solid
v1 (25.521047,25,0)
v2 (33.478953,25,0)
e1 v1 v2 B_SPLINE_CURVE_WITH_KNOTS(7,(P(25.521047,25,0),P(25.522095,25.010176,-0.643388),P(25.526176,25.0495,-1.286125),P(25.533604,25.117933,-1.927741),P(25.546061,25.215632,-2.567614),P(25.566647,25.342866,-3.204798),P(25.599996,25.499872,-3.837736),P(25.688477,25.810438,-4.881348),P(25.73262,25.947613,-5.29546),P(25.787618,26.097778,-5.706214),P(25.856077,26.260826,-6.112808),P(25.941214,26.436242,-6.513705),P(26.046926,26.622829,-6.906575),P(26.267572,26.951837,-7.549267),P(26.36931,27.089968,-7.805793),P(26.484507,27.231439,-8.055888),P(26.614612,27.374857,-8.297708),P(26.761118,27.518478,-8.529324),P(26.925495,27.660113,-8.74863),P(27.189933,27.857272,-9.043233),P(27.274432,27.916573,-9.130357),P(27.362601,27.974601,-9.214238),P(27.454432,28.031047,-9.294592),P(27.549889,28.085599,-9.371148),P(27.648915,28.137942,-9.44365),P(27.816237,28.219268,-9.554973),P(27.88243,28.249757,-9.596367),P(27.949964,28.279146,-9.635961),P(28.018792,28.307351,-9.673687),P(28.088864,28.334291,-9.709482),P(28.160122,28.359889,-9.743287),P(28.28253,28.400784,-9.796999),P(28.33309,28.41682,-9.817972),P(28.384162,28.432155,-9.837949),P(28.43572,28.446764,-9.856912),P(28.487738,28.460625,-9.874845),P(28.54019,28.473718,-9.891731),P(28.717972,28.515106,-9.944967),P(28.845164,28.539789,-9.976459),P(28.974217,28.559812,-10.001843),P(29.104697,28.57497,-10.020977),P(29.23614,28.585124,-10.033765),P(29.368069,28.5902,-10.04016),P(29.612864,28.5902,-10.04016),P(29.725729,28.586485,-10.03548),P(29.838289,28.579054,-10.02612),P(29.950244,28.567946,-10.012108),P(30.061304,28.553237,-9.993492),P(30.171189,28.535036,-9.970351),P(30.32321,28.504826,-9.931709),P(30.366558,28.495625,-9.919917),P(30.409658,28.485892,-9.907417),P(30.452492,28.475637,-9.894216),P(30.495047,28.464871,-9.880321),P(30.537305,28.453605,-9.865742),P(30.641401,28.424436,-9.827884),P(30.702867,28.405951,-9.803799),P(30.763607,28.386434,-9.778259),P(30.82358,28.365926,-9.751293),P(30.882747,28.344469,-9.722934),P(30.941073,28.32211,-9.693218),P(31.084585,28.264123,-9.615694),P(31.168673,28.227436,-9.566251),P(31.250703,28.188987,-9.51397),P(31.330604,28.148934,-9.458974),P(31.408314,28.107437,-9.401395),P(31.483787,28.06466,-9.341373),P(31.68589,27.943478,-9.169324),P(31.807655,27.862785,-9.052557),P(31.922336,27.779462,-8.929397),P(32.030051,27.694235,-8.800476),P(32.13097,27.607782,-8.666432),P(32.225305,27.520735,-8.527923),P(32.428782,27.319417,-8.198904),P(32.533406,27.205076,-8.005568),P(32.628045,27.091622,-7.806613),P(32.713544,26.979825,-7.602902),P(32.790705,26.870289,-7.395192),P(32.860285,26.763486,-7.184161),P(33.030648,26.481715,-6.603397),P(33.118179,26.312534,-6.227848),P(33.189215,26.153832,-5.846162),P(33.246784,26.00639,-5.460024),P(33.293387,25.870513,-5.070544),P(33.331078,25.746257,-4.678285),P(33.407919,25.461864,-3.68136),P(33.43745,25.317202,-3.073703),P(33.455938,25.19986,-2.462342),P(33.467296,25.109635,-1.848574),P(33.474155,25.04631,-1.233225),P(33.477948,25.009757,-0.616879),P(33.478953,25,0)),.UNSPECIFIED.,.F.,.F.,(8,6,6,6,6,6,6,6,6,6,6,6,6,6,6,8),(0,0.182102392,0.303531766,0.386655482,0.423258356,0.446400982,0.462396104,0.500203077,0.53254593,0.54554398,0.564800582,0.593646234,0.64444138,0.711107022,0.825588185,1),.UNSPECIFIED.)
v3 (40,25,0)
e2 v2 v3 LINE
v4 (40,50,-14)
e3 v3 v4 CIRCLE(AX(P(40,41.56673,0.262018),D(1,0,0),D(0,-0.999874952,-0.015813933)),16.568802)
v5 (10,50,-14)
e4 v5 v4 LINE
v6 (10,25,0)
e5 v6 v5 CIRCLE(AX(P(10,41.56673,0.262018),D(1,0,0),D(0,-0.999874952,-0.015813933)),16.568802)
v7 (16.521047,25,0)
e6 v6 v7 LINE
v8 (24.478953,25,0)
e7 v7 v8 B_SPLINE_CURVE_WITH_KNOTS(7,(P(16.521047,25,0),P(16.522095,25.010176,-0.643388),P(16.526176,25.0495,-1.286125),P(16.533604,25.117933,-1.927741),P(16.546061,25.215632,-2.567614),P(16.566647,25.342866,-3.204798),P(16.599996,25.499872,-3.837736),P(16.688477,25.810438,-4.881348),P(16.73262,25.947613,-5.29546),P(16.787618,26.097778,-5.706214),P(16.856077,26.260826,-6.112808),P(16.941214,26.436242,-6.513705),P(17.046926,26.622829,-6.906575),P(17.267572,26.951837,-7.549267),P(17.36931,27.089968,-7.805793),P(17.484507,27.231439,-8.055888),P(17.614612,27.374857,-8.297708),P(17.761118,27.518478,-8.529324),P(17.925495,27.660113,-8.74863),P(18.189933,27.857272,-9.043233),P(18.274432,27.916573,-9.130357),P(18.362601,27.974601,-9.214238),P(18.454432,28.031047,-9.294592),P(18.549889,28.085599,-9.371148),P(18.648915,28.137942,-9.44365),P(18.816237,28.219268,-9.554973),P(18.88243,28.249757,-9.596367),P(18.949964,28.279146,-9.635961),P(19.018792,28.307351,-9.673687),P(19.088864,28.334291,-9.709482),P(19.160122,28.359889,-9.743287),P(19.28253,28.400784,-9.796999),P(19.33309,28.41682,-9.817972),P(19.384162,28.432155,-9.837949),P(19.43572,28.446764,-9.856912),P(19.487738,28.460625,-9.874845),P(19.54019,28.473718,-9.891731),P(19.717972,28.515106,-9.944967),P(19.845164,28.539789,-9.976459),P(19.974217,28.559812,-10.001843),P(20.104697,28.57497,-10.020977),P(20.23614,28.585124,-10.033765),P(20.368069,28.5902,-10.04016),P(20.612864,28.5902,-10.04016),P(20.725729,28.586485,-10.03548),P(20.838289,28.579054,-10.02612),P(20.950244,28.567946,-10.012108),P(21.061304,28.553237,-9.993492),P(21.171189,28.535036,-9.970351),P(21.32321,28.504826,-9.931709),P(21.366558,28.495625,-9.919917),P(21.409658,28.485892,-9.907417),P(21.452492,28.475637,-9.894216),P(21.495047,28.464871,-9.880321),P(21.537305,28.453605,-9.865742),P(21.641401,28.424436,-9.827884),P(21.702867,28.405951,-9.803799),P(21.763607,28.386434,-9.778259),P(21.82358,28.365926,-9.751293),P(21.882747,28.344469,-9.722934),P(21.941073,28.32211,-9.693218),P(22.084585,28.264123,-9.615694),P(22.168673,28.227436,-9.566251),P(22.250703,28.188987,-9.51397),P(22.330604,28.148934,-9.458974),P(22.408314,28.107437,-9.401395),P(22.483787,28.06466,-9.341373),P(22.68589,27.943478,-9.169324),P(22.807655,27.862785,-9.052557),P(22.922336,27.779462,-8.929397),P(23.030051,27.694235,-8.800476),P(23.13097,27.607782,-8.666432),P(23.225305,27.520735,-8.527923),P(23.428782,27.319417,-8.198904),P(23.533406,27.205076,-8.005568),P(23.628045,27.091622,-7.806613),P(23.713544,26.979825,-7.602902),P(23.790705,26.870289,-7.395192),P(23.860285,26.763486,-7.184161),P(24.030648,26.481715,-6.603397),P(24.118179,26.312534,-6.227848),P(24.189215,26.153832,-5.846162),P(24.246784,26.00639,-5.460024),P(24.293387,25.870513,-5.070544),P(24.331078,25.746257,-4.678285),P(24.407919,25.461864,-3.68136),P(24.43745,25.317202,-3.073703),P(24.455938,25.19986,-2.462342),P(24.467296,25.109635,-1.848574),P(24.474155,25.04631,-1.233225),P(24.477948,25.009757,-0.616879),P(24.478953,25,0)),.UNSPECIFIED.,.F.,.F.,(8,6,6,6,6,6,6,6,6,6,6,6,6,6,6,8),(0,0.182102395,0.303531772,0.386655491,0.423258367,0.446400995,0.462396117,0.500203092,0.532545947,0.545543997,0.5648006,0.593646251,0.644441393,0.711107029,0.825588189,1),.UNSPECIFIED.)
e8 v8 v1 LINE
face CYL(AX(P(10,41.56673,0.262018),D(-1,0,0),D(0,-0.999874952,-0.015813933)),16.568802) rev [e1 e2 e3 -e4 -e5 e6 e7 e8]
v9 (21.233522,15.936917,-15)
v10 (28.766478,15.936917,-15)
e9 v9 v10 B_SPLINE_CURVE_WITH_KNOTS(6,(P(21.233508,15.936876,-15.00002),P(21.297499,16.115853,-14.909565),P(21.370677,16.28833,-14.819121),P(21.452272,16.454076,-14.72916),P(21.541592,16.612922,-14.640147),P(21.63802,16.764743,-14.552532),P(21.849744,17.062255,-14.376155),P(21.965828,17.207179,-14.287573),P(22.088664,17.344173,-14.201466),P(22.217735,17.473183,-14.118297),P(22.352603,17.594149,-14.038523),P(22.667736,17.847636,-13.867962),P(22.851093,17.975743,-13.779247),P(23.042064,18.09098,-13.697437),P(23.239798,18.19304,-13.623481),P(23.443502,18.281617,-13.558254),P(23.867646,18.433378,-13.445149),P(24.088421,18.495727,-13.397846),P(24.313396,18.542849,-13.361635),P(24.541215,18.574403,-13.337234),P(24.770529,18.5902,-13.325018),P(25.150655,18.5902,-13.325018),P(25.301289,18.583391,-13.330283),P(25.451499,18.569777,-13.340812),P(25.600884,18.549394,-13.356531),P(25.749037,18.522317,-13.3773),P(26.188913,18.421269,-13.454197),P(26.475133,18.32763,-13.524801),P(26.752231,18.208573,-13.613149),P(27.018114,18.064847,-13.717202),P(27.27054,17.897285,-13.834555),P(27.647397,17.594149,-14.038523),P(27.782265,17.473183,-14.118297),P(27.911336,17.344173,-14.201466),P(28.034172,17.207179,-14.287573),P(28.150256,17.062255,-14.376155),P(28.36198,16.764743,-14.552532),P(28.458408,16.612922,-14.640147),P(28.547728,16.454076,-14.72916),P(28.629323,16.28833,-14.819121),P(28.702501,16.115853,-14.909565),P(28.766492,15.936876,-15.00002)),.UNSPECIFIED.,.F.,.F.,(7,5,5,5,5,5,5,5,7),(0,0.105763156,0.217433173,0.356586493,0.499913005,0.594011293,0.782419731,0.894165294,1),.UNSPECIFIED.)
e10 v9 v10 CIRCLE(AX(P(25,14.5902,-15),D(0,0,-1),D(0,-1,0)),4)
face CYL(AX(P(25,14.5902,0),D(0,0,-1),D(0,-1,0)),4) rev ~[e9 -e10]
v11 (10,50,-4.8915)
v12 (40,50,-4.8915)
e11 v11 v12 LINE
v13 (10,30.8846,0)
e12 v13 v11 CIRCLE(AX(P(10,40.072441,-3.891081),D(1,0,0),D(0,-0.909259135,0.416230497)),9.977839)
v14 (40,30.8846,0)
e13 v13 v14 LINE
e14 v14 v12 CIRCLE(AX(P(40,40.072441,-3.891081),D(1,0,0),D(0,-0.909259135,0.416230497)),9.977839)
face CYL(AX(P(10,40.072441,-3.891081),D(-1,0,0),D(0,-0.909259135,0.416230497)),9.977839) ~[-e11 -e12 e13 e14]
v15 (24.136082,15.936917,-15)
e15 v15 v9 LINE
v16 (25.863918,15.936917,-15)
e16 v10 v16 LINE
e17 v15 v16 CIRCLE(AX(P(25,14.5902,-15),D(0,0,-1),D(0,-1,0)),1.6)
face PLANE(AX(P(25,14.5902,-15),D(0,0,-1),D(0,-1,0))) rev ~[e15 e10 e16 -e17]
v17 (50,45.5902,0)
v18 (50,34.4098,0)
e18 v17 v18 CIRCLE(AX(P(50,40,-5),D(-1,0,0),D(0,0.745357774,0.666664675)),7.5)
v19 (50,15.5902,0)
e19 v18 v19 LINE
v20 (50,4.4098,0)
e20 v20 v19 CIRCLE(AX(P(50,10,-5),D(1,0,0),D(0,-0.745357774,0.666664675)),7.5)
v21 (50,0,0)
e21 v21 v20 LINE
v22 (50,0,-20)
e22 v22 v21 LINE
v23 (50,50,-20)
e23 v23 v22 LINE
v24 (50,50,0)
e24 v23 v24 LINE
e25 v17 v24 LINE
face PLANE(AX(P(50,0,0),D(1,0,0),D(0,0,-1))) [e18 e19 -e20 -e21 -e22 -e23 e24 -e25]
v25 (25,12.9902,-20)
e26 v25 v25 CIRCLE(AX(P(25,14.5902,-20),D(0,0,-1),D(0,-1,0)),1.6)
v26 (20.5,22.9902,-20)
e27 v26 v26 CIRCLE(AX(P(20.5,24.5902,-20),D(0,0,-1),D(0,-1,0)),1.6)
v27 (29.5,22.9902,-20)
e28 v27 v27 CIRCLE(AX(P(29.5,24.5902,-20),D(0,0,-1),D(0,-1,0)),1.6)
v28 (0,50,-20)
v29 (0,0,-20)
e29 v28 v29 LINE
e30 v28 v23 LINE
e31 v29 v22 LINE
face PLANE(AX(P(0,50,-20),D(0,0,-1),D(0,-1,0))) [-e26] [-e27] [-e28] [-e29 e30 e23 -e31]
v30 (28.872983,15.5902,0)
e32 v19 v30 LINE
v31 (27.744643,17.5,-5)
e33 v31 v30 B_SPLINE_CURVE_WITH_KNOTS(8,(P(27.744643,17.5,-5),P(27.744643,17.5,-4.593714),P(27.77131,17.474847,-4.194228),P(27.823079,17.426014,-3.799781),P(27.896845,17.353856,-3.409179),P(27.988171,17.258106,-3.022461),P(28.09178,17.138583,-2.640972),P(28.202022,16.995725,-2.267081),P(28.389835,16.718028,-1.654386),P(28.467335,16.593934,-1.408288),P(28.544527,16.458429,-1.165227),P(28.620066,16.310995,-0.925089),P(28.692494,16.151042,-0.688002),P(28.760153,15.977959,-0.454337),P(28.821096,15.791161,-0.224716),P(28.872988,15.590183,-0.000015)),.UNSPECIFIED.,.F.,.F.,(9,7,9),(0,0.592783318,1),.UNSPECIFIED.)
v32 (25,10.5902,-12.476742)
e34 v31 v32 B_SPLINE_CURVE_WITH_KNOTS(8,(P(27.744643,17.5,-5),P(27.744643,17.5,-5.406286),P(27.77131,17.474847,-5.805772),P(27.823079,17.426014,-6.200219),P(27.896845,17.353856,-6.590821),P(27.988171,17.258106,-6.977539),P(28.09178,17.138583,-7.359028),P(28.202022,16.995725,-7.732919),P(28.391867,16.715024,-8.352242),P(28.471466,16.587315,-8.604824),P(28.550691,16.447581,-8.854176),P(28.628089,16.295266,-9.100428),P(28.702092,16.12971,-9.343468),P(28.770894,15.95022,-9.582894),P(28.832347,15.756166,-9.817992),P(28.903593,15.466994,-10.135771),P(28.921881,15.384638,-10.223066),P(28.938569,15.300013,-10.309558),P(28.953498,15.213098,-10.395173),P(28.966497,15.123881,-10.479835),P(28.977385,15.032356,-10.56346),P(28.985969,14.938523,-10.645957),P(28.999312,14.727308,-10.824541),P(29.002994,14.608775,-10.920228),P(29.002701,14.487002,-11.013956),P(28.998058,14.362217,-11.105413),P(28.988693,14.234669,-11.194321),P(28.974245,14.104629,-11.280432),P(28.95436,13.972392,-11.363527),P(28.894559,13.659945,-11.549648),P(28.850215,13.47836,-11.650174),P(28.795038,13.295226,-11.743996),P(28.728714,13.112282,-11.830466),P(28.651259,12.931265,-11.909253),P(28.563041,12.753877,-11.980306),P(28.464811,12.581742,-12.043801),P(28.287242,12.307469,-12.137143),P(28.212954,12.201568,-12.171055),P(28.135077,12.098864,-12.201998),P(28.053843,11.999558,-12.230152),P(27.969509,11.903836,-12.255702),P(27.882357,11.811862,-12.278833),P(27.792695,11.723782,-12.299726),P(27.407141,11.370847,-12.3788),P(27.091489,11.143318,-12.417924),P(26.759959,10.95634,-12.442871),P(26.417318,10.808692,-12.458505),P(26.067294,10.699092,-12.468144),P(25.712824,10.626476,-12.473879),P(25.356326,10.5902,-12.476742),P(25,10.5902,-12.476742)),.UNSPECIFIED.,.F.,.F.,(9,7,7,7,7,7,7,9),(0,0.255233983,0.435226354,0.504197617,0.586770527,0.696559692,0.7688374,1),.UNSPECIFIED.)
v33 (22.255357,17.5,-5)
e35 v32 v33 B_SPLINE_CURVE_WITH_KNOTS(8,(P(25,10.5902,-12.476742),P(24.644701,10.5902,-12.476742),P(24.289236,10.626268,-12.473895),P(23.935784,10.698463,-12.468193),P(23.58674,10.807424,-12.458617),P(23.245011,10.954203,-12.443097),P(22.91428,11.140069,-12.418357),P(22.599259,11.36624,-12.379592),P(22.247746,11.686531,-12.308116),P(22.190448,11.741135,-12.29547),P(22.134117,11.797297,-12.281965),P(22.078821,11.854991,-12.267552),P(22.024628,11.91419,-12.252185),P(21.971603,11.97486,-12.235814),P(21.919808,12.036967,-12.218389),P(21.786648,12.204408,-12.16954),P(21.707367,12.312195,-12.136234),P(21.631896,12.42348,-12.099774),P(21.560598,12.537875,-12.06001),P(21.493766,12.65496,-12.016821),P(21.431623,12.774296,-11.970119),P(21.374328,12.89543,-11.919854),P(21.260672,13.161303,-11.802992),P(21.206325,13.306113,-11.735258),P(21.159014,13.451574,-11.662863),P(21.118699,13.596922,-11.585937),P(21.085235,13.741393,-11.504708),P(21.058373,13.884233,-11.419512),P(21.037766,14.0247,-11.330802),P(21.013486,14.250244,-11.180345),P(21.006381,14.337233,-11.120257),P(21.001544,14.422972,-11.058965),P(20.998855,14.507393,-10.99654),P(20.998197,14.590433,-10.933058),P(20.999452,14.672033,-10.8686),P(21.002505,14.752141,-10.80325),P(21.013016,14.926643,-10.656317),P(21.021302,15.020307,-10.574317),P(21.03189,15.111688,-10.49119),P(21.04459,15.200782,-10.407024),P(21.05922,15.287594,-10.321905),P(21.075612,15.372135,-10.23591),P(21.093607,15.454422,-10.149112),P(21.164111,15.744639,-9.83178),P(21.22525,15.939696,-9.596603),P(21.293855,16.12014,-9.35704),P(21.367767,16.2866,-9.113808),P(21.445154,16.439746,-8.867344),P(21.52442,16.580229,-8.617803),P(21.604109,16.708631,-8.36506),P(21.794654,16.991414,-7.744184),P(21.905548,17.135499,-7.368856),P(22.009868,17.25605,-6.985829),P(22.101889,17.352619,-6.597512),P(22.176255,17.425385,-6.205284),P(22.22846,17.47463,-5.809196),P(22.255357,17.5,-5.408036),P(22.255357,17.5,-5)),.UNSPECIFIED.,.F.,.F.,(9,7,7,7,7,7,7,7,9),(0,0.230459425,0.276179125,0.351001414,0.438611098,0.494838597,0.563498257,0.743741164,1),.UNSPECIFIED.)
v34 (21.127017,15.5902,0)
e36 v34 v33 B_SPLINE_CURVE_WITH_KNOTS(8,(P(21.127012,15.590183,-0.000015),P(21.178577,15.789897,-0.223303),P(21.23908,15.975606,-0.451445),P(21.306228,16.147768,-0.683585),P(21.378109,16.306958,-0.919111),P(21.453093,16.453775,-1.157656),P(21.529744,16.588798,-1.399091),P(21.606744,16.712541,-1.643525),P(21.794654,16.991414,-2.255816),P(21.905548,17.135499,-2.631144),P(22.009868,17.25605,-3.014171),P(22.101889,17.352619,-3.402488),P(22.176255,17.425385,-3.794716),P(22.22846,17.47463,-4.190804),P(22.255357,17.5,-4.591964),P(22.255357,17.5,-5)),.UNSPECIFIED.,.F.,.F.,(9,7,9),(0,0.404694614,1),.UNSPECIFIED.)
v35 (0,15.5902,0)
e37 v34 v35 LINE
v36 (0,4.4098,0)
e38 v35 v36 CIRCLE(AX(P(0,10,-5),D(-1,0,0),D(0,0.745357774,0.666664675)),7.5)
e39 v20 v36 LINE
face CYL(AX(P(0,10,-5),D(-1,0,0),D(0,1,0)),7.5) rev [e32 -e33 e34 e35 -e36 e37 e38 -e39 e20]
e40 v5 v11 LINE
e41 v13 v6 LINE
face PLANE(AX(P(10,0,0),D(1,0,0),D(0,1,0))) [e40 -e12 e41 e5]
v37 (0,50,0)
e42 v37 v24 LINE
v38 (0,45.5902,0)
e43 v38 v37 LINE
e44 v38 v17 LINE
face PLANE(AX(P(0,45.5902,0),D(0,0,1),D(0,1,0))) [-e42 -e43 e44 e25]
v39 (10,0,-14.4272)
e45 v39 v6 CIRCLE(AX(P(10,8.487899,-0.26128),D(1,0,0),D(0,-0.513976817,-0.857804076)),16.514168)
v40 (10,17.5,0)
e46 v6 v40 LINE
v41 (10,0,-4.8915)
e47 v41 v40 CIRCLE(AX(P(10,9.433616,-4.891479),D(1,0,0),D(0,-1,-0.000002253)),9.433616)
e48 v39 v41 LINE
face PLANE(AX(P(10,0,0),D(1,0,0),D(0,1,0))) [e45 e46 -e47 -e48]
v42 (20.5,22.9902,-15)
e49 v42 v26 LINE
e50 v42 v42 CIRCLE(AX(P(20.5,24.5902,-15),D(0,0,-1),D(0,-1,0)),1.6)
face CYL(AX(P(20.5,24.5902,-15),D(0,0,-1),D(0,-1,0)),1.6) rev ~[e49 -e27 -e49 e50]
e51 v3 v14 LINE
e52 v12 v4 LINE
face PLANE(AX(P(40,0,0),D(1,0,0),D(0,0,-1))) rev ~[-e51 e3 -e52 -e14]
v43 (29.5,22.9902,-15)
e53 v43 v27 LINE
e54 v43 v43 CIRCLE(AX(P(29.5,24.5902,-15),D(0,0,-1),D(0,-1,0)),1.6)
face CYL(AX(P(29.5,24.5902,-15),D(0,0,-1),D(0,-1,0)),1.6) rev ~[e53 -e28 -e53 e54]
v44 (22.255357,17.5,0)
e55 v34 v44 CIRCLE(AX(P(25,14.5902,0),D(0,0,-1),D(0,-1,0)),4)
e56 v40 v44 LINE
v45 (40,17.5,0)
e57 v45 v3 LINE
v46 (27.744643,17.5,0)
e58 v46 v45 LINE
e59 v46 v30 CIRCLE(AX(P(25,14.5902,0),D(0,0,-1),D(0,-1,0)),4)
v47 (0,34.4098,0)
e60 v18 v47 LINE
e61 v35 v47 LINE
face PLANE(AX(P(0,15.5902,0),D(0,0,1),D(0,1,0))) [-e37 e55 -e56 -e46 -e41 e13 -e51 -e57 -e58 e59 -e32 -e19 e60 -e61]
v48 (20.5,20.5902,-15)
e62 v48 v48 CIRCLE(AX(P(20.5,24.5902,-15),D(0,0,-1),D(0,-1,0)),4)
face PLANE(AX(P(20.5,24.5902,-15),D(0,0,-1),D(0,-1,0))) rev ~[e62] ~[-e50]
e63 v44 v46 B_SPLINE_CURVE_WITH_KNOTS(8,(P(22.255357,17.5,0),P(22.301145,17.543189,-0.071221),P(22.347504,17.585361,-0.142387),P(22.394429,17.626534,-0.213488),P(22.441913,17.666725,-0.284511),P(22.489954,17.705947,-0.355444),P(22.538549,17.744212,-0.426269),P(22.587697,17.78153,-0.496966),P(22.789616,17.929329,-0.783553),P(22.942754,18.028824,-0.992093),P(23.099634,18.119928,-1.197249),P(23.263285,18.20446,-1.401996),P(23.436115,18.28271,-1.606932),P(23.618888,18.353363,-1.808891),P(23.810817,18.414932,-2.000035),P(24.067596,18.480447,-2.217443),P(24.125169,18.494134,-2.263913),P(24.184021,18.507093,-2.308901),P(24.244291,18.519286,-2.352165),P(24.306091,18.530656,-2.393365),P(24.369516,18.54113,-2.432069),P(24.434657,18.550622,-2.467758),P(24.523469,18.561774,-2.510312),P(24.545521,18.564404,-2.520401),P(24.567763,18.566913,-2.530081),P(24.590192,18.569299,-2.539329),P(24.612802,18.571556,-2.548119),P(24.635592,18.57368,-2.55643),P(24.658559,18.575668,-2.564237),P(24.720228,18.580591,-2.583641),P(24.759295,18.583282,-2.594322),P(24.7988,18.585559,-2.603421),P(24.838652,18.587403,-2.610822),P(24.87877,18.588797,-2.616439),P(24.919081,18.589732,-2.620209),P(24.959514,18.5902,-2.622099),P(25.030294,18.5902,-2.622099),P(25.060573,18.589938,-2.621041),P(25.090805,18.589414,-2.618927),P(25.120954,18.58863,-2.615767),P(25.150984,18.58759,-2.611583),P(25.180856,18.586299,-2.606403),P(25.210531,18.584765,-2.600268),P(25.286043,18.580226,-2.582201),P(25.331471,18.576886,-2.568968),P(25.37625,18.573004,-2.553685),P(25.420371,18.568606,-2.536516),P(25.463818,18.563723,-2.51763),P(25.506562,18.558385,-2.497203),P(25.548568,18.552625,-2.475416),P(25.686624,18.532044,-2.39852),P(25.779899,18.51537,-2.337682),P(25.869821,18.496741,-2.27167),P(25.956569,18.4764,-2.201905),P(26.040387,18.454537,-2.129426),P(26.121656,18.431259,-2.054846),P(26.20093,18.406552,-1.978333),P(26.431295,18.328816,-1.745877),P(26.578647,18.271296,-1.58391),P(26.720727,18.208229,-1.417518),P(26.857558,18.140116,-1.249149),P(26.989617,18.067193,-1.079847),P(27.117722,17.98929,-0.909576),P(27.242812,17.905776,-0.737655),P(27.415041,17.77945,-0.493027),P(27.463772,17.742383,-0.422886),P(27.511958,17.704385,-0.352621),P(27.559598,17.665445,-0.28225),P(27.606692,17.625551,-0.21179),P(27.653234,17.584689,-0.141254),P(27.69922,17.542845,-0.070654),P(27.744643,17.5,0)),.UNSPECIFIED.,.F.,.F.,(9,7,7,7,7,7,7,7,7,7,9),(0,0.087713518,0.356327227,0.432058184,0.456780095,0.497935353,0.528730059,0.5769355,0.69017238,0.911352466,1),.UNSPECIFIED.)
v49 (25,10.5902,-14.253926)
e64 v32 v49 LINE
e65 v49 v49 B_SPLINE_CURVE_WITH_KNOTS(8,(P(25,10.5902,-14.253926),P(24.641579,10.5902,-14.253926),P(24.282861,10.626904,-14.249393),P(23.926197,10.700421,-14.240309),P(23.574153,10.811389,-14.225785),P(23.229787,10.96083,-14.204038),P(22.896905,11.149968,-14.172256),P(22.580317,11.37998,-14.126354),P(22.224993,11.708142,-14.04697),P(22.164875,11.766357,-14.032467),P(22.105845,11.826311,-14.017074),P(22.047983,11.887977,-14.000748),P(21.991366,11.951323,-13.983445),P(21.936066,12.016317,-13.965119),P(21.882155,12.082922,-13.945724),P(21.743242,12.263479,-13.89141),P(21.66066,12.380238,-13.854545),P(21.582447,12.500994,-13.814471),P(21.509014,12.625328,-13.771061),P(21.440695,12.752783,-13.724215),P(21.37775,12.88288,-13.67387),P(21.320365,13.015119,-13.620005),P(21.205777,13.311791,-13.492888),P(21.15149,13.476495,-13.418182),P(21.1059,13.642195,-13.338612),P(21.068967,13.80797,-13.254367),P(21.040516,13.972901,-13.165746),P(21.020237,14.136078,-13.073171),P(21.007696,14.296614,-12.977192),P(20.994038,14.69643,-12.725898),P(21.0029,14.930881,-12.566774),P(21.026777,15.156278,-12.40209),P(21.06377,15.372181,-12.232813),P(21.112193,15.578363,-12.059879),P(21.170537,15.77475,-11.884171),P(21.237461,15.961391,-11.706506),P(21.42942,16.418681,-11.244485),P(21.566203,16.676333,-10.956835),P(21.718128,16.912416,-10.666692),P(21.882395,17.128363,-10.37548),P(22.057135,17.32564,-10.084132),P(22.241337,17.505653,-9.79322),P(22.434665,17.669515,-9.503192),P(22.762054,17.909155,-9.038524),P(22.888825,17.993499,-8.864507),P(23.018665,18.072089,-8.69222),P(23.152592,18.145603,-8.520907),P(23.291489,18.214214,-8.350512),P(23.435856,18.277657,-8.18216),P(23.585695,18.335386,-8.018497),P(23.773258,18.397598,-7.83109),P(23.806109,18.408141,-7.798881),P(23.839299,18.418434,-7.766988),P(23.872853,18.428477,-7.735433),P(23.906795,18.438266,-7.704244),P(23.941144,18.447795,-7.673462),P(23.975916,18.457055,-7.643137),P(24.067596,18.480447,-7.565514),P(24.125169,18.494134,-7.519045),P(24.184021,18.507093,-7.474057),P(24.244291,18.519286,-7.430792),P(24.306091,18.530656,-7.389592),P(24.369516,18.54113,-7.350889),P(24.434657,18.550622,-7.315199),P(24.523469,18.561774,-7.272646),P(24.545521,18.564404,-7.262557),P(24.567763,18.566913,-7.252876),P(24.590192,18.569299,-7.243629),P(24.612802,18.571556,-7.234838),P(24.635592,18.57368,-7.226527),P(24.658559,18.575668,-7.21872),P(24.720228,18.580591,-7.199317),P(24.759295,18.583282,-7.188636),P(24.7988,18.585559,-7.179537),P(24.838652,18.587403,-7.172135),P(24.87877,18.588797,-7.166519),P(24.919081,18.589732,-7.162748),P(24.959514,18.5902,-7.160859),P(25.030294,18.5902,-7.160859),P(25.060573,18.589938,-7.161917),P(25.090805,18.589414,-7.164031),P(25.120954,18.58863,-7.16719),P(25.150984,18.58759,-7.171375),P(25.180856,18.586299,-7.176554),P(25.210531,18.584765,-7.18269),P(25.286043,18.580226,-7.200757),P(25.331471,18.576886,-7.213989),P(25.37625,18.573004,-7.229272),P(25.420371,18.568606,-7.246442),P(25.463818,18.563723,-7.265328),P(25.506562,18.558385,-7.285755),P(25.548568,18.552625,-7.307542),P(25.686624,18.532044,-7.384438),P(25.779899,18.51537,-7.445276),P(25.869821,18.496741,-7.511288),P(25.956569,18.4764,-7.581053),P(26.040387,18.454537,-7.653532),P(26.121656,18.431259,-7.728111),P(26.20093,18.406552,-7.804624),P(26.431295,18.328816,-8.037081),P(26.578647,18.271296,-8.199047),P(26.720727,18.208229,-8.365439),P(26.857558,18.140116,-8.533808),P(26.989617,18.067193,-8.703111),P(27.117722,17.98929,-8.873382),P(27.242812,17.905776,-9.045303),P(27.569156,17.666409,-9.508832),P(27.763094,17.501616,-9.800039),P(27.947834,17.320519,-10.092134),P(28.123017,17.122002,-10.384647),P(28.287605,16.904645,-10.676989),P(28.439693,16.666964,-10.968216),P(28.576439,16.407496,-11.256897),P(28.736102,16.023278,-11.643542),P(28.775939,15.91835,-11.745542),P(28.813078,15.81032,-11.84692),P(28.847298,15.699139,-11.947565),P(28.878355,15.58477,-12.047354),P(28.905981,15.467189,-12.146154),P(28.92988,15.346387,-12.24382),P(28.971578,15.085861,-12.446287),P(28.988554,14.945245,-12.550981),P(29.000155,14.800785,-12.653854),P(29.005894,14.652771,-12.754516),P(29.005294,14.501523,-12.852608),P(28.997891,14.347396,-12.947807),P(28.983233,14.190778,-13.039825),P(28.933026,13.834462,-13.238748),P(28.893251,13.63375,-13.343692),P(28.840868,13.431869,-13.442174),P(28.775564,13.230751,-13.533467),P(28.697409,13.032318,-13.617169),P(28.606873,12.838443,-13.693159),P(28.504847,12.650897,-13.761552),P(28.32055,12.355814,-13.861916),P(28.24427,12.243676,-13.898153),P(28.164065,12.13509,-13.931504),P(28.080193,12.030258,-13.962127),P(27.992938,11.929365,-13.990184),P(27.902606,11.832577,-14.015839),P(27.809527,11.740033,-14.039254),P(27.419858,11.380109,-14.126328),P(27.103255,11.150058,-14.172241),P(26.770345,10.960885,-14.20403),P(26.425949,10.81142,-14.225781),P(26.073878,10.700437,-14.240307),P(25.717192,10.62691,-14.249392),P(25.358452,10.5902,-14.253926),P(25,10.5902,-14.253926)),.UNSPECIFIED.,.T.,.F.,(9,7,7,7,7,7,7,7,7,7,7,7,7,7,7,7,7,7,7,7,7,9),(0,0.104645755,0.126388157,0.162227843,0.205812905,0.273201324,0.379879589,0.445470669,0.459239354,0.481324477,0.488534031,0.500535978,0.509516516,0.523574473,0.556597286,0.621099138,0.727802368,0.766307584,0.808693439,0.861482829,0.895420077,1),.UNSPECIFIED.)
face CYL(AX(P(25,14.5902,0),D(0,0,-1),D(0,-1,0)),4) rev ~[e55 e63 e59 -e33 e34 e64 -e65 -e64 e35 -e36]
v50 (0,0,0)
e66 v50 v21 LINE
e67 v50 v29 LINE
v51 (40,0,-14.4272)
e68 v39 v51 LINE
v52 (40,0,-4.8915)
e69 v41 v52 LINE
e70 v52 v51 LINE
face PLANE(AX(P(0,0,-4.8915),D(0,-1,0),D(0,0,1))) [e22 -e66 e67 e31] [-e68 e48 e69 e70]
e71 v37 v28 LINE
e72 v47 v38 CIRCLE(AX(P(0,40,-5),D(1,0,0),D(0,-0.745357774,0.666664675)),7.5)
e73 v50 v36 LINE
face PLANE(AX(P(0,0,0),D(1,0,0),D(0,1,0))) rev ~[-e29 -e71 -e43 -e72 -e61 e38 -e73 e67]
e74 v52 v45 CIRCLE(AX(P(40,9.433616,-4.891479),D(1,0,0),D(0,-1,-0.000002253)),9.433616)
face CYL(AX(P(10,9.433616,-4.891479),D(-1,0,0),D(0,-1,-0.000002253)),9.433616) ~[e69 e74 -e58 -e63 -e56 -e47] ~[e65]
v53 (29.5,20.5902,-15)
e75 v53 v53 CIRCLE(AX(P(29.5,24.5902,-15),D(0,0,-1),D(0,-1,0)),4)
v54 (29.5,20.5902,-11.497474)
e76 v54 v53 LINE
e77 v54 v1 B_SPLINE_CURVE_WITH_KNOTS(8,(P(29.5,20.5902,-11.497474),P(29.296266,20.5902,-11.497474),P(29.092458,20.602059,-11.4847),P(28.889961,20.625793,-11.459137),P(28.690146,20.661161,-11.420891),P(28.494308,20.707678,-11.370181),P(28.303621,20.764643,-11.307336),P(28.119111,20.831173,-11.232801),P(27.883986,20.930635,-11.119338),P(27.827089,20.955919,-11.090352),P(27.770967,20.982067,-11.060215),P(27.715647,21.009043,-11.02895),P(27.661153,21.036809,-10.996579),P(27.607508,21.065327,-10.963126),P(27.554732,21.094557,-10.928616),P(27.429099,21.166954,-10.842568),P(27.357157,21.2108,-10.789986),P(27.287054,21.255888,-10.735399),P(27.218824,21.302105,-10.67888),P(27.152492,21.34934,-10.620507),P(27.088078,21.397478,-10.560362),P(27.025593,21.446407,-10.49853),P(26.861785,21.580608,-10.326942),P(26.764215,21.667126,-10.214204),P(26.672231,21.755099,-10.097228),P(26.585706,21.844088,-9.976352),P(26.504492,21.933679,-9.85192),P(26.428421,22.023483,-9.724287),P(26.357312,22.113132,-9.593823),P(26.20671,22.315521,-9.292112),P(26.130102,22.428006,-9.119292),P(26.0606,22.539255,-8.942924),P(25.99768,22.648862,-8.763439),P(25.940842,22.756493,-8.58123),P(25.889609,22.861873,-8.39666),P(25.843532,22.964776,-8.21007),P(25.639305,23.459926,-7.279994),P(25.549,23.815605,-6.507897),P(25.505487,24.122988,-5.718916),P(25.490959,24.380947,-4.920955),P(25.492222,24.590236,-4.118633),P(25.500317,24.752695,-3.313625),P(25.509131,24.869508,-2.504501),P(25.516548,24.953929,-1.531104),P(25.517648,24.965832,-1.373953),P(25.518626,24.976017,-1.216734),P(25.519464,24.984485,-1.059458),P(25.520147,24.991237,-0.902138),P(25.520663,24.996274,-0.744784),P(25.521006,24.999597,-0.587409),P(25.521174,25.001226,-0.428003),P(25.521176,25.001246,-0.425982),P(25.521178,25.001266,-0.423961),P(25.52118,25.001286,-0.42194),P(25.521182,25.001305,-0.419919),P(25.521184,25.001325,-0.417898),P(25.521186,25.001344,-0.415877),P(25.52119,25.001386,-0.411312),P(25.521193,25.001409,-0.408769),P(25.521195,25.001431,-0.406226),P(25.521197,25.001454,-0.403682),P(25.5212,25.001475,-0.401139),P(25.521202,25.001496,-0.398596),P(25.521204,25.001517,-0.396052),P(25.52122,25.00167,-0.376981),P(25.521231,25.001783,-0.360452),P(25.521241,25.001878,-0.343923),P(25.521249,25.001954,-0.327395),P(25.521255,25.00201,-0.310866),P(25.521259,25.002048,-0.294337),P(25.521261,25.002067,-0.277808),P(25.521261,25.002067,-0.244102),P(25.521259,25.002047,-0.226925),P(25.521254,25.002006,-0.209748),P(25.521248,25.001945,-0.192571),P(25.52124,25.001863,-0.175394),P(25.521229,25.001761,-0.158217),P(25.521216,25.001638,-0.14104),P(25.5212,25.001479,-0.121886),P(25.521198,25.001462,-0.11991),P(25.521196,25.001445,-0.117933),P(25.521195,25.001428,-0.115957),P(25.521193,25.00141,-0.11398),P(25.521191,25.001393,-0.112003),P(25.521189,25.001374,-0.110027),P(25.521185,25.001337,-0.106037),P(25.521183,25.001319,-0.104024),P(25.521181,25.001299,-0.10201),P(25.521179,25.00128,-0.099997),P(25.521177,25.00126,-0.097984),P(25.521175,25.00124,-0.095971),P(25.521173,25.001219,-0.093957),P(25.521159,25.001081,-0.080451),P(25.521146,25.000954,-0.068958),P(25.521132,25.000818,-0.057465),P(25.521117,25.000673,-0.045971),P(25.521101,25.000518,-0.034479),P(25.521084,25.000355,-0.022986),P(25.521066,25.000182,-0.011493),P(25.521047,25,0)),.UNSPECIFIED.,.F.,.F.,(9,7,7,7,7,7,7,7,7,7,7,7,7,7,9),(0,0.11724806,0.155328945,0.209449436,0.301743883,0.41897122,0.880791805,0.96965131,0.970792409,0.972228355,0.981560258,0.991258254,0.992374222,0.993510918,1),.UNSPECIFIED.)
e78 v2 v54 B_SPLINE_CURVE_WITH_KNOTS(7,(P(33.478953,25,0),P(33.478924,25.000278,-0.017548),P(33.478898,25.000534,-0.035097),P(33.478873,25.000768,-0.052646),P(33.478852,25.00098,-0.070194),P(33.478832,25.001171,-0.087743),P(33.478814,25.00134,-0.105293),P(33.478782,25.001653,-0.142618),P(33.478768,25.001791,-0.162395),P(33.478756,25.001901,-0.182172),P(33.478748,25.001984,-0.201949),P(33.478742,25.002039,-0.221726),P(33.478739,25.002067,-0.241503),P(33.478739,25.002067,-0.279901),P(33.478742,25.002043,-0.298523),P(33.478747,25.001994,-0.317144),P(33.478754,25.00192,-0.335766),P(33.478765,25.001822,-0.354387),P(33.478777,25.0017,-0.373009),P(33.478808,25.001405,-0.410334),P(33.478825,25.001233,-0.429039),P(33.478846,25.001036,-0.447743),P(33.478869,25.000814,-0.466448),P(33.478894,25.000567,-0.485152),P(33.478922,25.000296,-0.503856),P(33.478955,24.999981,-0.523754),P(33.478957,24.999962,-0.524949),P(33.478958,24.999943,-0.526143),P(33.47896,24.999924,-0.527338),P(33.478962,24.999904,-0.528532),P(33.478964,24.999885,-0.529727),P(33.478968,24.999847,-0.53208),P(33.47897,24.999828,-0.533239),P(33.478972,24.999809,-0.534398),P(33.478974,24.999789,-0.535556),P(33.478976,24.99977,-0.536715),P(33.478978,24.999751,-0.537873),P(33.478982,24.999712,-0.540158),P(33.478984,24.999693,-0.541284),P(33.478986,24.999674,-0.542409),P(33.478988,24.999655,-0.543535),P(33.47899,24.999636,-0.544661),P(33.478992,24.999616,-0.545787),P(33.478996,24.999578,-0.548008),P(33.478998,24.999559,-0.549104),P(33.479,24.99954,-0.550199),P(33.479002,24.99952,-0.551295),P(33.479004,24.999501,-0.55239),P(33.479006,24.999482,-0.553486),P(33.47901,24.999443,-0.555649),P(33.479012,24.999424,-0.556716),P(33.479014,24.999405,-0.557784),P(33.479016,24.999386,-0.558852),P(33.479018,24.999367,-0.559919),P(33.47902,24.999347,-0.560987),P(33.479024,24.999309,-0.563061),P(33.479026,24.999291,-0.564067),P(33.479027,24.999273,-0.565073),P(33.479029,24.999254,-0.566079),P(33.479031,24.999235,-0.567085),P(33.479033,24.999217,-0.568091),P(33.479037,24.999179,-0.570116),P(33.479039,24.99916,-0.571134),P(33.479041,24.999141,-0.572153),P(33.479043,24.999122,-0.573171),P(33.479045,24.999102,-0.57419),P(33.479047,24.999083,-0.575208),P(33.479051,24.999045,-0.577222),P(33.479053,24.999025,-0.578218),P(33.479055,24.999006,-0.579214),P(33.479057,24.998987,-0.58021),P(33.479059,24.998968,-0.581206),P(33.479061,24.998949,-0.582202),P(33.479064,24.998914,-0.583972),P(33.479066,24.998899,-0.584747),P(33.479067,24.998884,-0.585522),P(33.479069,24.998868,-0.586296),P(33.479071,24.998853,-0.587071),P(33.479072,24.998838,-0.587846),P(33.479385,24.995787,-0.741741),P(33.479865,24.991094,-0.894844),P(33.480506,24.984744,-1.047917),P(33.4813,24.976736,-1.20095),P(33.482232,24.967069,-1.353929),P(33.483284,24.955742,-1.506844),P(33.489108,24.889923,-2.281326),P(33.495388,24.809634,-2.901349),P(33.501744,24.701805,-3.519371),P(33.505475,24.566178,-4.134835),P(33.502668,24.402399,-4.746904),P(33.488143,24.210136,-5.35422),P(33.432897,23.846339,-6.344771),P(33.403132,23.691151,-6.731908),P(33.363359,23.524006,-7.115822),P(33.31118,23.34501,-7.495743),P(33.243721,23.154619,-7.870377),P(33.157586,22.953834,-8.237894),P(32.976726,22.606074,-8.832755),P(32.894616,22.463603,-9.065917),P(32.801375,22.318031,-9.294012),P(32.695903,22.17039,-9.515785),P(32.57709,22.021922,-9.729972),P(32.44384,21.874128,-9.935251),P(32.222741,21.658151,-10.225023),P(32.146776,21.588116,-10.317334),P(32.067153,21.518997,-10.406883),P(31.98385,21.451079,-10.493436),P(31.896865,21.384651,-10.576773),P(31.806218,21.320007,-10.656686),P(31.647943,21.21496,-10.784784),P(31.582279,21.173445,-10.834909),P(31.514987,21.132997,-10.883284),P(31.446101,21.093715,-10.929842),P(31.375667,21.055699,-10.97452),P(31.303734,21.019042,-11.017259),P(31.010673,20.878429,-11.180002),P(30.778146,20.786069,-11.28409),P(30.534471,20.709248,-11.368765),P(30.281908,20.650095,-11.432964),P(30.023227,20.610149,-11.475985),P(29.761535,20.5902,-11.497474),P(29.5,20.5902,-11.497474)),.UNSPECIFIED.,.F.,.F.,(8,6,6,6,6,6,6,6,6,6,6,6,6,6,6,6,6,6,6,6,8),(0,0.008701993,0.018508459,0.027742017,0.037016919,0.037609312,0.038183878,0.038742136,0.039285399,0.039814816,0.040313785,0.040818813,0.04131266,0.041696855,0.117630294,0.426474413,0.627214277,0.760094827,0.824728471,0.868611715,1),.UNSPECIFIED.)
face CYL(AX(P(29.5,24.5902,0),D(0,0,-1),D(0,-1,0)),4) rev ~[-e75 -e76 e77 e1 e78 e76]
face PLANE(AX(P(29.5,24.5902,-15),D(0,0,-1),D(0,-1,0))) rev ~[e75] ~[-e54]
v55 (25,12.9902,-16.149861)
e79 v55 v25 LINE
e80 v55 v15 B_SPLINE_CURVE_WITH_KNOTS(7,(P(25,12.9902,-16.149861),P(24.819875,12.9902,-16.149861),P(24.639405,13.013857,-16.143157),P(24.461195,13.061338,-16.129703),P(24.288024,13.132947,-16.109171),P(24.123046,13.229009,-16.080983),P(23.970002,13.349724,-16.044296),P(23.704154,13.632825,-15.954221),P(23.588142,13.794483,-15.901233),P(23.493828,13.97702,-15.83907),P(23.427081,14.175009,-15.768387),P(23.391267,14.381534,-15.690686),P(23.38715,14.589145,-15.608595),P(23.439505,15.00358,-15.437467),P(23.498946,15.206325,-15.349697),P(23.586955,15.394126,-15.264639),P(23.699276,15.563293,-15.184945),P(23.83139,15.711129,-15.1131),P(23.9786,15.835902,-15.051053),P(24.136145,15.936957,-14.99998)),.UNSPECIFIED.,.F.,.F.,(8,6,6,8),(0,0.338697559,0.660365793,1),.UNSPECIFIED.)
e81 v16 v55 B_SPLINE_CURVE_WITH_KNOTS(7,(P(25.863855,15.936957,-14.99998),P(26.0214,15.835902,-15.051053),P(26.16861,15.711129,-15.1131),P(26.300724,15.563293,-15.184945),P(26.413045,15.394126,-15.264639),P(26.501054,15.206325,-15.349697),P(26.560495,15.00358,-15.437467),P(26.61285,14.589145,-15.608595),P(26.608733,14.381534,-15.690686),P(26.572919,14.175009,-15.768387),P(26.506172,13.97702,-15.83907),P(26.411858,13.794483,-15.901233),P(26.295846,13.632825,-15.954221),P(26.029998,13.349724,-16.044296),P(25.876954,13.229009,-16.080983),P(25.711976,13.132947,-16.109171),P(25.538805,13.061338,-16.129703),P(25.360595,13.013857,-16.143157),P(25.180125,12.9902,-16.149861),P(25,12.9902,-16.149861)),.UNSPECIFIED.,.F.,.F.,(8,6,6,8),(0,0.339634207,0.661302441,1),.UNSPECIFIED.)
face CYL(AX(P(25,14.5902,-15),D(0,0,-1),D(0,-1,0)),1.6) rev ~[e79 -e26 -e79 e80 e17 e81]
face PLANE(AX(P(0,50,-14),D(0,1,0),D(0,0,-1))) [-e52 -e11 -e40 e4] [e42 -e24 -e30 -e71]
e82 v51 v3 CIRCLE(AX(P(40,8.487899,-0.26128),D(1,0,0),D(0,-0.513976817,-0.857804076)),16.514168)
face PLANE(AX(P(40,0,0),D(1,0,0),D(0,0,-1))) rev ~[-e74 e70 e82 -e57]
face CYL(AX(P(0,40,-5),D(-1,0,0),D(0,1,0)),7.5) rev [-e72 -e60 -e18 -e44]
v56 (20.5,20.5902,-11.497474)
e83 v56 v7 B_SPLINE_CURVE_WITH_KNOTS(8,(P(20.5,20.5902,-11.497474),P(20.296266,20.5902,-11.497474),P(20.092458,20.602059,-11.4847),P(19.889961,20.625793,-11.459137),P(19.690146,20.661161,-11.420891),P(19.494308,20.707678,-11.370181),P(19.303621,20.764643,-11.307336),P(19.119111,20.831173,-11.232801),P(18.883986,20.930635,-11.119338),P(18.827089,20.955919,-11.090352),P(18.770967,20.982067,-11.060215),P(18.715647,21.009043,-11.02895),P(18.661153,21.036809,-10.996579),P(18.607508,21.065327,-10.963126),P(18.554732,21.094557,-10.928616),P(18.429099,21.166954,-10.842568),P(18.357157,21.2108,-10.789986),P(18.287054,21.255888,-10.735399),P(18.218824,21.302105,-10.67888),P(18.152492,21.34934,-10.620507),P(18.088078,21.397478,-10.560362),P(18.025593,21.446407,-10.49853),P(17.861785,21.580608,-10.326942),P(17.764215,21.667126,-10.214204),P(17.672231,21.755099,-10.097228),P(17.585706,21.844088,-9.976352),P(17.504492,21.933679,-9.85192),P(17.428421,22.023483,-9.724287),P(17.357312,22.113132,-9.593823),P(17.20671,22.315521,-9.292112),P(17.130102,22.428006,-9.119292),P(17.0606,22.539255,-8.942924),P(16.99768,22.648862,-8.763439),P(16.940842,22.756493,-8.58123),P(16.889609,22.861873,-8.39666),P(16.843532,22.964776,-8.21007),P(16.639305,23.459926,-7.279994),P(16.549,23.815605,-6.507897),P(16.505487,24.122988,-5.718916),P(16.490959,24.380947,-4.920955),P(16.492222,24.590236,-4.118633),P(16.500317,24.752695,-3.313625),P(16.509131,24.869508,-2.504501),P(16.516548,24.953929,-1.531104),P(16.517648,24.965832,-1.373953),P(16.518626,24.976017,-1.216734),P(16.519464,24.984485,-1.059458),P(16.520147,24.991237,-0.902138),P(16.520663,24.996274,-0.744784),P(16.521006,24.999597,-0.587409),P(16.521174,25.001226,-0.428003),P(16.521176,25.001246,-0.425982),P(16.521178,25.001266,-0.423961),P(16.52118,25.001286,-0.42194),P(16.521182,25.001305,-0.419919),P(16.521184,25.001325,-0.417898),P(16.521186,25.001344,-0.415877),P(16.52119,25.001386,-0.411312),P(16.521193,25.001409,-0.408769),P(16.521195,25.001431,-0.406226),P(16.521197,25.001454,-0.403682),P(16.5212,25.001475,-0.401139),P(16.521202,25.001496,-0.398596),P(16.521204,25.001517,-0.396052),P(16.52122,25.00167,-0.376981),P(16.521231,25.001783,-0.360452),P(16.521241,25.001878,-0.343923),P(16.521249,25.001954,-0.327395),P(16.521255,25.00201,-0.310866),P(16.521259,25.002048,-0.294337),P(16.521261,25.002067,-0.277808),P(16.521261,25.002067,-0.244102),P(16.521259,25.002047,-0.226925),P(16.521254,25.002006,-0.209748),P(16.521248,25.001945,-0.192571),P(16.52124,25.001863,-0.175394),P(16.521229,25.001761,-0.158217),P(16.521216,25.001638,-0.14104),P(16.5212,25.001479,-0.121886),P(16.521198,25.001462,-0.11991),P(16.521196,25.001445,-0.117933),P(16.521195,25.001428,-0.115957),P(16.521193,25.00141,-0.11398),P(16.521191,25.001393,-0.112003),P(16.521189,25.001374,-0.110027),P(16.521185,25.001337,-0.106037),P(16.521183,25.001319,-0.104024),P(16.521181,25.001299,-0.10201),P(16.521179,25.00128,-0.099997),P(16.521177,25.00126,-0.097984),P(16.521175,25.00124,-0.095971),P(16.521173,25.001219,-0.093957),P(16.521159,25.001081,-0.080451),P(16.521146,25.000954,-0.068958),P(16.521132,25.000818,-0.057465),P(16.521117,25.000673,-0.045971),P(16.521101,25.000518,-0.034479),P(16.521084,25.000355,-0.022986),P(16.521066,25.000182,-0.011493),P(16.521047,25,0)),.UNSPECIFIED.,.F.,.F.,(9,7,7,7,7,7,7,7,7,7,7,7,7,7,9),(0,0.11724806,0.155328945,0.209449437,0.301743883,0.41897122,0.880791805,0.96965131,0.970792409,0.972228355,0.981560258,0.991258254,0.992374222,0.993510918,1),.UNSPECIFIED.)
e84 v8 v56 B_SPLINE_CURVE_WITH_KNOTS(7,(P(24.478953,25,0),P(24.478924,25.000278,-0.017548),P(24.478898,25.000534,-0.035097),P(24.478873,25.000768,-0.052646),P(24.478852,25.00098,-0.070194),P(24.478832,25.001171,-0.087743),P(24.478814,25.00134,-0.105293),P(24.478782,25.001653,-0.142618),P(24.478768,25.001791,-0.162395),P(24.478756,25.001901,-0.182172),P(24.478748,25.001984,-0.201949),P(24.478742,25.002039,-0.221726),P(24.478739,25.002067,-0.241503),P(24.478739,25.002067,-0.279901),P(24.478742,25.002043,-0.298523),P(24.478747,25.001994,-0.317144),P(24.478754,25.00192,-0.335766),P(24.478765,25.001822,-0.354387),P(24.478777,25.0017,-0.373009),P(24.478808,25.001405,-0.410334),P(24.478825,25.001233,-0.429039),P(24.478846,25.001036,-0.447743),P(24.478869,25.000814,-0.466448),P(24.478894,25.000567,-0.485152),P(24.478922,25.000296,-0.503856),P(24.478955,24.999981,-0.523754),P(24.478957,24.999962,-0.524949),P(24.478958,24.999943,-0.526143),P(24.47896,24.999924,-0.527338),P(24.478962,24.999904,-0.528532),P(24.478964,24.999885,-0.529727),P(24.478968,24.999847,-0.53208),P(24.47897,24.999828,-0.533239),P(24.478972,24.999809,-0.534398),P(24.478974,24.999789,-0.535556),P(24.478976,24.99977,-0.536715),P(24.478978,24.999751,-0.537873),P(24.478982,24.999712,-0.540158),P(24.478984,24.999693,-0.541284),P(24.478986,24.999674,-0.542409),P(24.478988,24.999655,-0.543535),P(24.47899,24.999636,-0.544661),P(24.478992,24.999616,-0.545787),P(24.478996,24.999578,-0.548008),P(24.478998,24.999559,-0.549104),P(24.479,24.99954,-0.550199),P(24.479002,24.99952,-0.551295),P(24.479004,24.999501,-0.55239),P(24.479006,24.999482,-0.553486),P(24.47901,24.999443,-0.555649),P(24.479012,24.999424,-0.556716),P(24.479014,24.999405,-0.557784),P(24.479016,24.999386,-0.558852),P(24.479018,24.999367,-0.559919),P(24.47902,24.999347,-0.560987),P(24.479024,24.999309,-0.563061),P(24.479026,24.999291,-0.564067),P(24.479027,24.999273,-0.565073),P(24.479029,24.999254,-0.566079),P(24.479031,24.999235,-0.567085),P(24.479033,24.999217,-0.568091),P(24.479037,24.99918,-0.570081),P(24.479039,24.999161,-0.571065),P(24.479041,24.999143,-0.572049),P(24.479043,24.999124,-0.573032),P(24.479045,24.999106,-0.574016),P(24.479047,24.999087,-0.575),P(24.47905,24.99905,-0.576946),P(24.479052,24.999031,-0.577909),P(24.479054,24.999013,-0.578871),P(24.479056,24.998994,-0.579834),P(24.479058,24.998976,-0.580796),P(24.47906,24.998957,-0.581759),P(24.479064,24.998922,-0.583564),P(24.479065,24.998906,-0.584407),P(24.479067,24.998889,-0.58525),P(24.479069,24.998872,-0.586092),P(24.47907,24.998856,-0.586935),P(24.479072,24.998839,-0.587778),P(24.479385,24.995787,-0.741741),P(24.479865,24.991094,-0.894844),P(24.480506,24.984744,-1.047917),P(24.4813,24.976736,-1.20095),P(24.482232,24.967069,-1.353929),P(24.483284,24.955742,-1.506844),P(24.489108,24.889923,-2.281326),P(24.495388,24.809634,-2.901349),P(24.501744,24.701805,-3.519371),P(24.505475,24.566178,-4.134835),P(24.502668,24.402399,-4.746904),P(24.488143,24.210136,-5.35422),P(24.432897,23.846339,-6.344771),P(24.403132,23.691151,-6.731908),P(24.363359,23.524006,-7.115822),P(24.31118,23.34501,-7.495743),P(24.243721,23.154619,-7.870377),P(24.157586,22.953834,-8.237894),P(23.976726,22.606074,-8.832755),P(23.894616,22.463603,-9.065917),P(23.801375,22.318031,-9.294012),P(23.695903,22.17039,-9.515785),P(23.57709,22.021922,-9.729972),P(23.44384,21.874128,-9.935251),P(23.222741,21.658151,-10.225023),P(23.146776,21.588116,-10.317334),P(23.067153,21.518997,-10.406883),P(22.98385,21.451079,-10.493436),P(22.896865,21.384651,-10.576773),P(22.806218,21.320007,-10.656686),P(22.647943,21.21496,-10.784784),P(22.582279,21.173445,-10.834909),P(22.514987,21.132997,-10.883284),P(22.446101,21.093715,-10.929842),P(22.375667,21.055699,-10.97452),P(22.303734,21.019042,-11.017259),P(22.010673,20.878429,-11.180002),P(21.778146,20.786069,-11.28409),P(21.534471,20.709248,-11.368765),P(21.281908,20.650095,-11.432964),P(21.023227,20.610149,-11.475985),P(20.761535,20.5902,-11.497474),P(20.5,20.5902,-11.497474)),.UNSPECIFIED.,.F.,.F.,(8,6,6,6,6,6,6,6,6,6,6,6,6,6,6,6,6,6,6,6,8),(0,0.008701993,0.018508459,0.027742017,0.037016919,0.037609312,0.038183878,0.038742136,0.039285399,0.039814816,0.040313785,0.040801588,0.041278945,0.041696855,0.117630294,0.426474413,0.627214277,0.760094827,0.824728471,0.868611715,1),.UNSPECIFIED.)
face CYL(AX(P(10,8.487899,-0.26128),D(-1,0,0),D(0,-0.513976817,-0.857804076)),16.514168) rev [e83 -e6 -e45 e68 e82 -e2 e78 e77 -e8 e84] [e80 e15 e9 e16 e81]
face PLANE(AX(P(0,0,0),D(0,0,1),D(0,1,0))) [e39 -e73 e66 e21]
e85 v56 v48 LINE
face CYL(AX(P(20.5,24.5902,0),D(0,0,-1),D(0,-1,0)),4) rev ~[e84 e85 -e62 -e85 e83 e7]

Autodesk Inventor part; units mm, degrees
ref_plane "YZ Plane" through (0, 0, 0) normal (1, 0, 0) x (0, 1, 0)
ref_plane "XZ Plane" through (0, 0, 0) normal (0, 1, 0) x (-1, 0, 0)
ref_plane "XY Plane" through (0, 0, 0) normal (0, 0, 1) x (1, 0, 0)
sketch "Sketch2" plane through (0, 0, 0) normal (1, 0, 0) x (0, 1, 0)
  line L0 (0, 0) -> (4.4098, 0)
  line L1 (50, 0) -> (50, -20)
  line L2 (50, -20) -> (0, -20)
  line L3 (0, -20) -> (0, 0)
  circle A0 centre (10, -5) radius 7.5
  circle A1 centre (40, -5) radius 7.5
  arc A2 (25, 0) -> (50, -14) centre (41.5667, 0.262) ccw
  arc A3 (0, -14.4272) -> (25, 0) centre (8.4879, -0.2612) ccw
  arc A4 (0, -4.8915) -> (17.5, 0) centre (9.4336, -4.8915) ccw
  arc A5 (31, 0.262) -> (50, -4.8915) centre (40.0724, -3.8911) ccw
  line L4 (45.5902, 0) -> (50, 0)
  line L5 (34.4098, 0) -> (45.5902, 0)
  line L6 (30.8846, 0) -> (34.4098, 0)
  line L7 (25, 0) -> (30.8846, 0)
  line L8 (17.5, 0) -> (25, 0)
  line L9 (15.5902, 0) -> (17.5, 0)
  line L10 (4.4098, 0) -> (15.5902, 0)
  dimension "d22" = 50
  dimension "d23" = 20
  dimension "d24" = 15
  dimension "d25" = 15
extrude "Extrusion2" add sketch "Sketch2" along normal blind 10 contours L0 A0 L9 A4 L3 | A4 L8 A3 L3 | A3 A2 L1 L2 L3 | L7 A5 L1 A2 | L6 A1 L4 L1 A5
sketch "Sketch3" plane through (10, 0, 0) normal (1, 0, 0) x (0, 0, -1)
  line L0 (0, 0) -> (0, 4.4098)
  line L1 (0, 50) -> (20, 50)
  line L2 (20, 50) -> (20, 0)
  line L3 (20, 0) -> (0, 0)
  circle A0 centre (5, 10) radius 7.5
  circle A1 centre (5, 40) radius 7.5
  arc A2 (0, 25) -> (14, 50) centre (-0.262, 41.5667) ccw
  arc A3 (14.4272, 0) -> (0, 25) centre (0.2612, 8.4879) ccw
  arc A4 (4.8915, 0) -> (0, 17.5) centre (4.8915, 9.4336) ccw
  arc A5 (-0.262, 31) -> (4.8915, 50) centre (3.8911, 40.0724) ccw
  line L4 (0, 45.5902) -> (0, 50)
  line L5 (0, 34.4098) -> (0, 45.5902)
  line L6 (0, 30.8846) -> (0, 34.4098)
  line L7 (0, 25) -> (0, 30.8846)
  line L8 (0, 17.5) -> (0, 25)
  line L9 (0, 15.5902) -> (0, 17.5)
  line L10 (0, 4.4098) -> (0, 15.5902)
  dimension "d28" = 50
  dimension "d29" = 20
  dimension "d30" = 15
  dimension "d31" = 15
extrude "Extrusion3" add sketch "Sketch3" along normal blind 30 contours L0 A0 L9 A4 L3 | A3 A2 L1 L2 L3 | L6 A1 L4 L1 A5
sketch "Sketch4" plane through (40, 0, 0) normal (1, 0, 0) x (0, 0, -1)
  line L0 (0, 0) -> (0, 4.4098)
  line L1 (0, 50) -> (20, 50)
  line L2 (20, 50) -> (20, 0)
  line L3 (20, 0) -> (0, 0)
  circle A0 centre (5, 10) radius 7.5
  circle A1 centre (5, 40) radius 7.5
  arc A2 (0, 25) -> (14, 50) centre (-0.262, 41.5667) ccw
  arc A3 (14.4272, 0) -> (0, 25) centre (0.2612, 8.4879) ccw
  arc A4 (4.8915, 0) -> (0, 17.5) centre (4.8915, 9.4336) ccw
  arc A5 (-0.262, 31) -> (4.8915, 50) centre (3.8911, 40.0724) ccw
  line L4 (0, 45.5902) -> (0, 50)
  line L5 (0, 34.4098) -> (0, 45.5902)
  line L6 (0, 30.8846) -> (0, 34.4098)
  line L7 (0, 25) -> (0, 30.8846)
  line L8 (0, 17.5) -> (0, 25)
  line L9 (0, 15.5902) -> (0, 17.5)
  line L10 (0, 4.4098) -> (0, 15.5902)
  dimension "d34" = 50
  dimension "d35" = 20
  dimension "d36" = 15
  dimension "d37" = 15
extrude "Extrusion4" add sketch "Sketch4" along normal blind 10 contours L0 A0 L9 A4 L3 | A4 L8 A3 L3 | A3 A2 L1 L2 L3 | L7 A5 L1 A2 | L6 A1 L4 L1 A5
sketch "Sketch6" plane through (0, 15.5902, 0) normal (0, 0, 1) x (1, 0, 0)
  circle A0 centre (25, -1) radius 1.5
  line L0 (0, 0) -> (0, 50)
  circle A1 centre (29.5, 9) radius 1.5
  line L1 (40, 9) -> (10, 9)
  circle A2 centre (20.5, 9) radius 1.5
  point P0 (0, -15.5902)
  dimension "d47" = 3
  dimension "d48" = 25
  dimension "d49" = 3
  dimension "d50" = 4.5
  dimension "d51" = 10
  dimension "d52" = 3
  dimension "d53" = 4.5
hole "Hole3" at (20.5, 24.5902, 0) at (29.5, 24.5902, 0) at (25, 14.5902, 0) direction (0, 0, -1) diameter 3.2 end through all counterbore diameter 8 counterbore depth 15
properties part number "XCarriage"
